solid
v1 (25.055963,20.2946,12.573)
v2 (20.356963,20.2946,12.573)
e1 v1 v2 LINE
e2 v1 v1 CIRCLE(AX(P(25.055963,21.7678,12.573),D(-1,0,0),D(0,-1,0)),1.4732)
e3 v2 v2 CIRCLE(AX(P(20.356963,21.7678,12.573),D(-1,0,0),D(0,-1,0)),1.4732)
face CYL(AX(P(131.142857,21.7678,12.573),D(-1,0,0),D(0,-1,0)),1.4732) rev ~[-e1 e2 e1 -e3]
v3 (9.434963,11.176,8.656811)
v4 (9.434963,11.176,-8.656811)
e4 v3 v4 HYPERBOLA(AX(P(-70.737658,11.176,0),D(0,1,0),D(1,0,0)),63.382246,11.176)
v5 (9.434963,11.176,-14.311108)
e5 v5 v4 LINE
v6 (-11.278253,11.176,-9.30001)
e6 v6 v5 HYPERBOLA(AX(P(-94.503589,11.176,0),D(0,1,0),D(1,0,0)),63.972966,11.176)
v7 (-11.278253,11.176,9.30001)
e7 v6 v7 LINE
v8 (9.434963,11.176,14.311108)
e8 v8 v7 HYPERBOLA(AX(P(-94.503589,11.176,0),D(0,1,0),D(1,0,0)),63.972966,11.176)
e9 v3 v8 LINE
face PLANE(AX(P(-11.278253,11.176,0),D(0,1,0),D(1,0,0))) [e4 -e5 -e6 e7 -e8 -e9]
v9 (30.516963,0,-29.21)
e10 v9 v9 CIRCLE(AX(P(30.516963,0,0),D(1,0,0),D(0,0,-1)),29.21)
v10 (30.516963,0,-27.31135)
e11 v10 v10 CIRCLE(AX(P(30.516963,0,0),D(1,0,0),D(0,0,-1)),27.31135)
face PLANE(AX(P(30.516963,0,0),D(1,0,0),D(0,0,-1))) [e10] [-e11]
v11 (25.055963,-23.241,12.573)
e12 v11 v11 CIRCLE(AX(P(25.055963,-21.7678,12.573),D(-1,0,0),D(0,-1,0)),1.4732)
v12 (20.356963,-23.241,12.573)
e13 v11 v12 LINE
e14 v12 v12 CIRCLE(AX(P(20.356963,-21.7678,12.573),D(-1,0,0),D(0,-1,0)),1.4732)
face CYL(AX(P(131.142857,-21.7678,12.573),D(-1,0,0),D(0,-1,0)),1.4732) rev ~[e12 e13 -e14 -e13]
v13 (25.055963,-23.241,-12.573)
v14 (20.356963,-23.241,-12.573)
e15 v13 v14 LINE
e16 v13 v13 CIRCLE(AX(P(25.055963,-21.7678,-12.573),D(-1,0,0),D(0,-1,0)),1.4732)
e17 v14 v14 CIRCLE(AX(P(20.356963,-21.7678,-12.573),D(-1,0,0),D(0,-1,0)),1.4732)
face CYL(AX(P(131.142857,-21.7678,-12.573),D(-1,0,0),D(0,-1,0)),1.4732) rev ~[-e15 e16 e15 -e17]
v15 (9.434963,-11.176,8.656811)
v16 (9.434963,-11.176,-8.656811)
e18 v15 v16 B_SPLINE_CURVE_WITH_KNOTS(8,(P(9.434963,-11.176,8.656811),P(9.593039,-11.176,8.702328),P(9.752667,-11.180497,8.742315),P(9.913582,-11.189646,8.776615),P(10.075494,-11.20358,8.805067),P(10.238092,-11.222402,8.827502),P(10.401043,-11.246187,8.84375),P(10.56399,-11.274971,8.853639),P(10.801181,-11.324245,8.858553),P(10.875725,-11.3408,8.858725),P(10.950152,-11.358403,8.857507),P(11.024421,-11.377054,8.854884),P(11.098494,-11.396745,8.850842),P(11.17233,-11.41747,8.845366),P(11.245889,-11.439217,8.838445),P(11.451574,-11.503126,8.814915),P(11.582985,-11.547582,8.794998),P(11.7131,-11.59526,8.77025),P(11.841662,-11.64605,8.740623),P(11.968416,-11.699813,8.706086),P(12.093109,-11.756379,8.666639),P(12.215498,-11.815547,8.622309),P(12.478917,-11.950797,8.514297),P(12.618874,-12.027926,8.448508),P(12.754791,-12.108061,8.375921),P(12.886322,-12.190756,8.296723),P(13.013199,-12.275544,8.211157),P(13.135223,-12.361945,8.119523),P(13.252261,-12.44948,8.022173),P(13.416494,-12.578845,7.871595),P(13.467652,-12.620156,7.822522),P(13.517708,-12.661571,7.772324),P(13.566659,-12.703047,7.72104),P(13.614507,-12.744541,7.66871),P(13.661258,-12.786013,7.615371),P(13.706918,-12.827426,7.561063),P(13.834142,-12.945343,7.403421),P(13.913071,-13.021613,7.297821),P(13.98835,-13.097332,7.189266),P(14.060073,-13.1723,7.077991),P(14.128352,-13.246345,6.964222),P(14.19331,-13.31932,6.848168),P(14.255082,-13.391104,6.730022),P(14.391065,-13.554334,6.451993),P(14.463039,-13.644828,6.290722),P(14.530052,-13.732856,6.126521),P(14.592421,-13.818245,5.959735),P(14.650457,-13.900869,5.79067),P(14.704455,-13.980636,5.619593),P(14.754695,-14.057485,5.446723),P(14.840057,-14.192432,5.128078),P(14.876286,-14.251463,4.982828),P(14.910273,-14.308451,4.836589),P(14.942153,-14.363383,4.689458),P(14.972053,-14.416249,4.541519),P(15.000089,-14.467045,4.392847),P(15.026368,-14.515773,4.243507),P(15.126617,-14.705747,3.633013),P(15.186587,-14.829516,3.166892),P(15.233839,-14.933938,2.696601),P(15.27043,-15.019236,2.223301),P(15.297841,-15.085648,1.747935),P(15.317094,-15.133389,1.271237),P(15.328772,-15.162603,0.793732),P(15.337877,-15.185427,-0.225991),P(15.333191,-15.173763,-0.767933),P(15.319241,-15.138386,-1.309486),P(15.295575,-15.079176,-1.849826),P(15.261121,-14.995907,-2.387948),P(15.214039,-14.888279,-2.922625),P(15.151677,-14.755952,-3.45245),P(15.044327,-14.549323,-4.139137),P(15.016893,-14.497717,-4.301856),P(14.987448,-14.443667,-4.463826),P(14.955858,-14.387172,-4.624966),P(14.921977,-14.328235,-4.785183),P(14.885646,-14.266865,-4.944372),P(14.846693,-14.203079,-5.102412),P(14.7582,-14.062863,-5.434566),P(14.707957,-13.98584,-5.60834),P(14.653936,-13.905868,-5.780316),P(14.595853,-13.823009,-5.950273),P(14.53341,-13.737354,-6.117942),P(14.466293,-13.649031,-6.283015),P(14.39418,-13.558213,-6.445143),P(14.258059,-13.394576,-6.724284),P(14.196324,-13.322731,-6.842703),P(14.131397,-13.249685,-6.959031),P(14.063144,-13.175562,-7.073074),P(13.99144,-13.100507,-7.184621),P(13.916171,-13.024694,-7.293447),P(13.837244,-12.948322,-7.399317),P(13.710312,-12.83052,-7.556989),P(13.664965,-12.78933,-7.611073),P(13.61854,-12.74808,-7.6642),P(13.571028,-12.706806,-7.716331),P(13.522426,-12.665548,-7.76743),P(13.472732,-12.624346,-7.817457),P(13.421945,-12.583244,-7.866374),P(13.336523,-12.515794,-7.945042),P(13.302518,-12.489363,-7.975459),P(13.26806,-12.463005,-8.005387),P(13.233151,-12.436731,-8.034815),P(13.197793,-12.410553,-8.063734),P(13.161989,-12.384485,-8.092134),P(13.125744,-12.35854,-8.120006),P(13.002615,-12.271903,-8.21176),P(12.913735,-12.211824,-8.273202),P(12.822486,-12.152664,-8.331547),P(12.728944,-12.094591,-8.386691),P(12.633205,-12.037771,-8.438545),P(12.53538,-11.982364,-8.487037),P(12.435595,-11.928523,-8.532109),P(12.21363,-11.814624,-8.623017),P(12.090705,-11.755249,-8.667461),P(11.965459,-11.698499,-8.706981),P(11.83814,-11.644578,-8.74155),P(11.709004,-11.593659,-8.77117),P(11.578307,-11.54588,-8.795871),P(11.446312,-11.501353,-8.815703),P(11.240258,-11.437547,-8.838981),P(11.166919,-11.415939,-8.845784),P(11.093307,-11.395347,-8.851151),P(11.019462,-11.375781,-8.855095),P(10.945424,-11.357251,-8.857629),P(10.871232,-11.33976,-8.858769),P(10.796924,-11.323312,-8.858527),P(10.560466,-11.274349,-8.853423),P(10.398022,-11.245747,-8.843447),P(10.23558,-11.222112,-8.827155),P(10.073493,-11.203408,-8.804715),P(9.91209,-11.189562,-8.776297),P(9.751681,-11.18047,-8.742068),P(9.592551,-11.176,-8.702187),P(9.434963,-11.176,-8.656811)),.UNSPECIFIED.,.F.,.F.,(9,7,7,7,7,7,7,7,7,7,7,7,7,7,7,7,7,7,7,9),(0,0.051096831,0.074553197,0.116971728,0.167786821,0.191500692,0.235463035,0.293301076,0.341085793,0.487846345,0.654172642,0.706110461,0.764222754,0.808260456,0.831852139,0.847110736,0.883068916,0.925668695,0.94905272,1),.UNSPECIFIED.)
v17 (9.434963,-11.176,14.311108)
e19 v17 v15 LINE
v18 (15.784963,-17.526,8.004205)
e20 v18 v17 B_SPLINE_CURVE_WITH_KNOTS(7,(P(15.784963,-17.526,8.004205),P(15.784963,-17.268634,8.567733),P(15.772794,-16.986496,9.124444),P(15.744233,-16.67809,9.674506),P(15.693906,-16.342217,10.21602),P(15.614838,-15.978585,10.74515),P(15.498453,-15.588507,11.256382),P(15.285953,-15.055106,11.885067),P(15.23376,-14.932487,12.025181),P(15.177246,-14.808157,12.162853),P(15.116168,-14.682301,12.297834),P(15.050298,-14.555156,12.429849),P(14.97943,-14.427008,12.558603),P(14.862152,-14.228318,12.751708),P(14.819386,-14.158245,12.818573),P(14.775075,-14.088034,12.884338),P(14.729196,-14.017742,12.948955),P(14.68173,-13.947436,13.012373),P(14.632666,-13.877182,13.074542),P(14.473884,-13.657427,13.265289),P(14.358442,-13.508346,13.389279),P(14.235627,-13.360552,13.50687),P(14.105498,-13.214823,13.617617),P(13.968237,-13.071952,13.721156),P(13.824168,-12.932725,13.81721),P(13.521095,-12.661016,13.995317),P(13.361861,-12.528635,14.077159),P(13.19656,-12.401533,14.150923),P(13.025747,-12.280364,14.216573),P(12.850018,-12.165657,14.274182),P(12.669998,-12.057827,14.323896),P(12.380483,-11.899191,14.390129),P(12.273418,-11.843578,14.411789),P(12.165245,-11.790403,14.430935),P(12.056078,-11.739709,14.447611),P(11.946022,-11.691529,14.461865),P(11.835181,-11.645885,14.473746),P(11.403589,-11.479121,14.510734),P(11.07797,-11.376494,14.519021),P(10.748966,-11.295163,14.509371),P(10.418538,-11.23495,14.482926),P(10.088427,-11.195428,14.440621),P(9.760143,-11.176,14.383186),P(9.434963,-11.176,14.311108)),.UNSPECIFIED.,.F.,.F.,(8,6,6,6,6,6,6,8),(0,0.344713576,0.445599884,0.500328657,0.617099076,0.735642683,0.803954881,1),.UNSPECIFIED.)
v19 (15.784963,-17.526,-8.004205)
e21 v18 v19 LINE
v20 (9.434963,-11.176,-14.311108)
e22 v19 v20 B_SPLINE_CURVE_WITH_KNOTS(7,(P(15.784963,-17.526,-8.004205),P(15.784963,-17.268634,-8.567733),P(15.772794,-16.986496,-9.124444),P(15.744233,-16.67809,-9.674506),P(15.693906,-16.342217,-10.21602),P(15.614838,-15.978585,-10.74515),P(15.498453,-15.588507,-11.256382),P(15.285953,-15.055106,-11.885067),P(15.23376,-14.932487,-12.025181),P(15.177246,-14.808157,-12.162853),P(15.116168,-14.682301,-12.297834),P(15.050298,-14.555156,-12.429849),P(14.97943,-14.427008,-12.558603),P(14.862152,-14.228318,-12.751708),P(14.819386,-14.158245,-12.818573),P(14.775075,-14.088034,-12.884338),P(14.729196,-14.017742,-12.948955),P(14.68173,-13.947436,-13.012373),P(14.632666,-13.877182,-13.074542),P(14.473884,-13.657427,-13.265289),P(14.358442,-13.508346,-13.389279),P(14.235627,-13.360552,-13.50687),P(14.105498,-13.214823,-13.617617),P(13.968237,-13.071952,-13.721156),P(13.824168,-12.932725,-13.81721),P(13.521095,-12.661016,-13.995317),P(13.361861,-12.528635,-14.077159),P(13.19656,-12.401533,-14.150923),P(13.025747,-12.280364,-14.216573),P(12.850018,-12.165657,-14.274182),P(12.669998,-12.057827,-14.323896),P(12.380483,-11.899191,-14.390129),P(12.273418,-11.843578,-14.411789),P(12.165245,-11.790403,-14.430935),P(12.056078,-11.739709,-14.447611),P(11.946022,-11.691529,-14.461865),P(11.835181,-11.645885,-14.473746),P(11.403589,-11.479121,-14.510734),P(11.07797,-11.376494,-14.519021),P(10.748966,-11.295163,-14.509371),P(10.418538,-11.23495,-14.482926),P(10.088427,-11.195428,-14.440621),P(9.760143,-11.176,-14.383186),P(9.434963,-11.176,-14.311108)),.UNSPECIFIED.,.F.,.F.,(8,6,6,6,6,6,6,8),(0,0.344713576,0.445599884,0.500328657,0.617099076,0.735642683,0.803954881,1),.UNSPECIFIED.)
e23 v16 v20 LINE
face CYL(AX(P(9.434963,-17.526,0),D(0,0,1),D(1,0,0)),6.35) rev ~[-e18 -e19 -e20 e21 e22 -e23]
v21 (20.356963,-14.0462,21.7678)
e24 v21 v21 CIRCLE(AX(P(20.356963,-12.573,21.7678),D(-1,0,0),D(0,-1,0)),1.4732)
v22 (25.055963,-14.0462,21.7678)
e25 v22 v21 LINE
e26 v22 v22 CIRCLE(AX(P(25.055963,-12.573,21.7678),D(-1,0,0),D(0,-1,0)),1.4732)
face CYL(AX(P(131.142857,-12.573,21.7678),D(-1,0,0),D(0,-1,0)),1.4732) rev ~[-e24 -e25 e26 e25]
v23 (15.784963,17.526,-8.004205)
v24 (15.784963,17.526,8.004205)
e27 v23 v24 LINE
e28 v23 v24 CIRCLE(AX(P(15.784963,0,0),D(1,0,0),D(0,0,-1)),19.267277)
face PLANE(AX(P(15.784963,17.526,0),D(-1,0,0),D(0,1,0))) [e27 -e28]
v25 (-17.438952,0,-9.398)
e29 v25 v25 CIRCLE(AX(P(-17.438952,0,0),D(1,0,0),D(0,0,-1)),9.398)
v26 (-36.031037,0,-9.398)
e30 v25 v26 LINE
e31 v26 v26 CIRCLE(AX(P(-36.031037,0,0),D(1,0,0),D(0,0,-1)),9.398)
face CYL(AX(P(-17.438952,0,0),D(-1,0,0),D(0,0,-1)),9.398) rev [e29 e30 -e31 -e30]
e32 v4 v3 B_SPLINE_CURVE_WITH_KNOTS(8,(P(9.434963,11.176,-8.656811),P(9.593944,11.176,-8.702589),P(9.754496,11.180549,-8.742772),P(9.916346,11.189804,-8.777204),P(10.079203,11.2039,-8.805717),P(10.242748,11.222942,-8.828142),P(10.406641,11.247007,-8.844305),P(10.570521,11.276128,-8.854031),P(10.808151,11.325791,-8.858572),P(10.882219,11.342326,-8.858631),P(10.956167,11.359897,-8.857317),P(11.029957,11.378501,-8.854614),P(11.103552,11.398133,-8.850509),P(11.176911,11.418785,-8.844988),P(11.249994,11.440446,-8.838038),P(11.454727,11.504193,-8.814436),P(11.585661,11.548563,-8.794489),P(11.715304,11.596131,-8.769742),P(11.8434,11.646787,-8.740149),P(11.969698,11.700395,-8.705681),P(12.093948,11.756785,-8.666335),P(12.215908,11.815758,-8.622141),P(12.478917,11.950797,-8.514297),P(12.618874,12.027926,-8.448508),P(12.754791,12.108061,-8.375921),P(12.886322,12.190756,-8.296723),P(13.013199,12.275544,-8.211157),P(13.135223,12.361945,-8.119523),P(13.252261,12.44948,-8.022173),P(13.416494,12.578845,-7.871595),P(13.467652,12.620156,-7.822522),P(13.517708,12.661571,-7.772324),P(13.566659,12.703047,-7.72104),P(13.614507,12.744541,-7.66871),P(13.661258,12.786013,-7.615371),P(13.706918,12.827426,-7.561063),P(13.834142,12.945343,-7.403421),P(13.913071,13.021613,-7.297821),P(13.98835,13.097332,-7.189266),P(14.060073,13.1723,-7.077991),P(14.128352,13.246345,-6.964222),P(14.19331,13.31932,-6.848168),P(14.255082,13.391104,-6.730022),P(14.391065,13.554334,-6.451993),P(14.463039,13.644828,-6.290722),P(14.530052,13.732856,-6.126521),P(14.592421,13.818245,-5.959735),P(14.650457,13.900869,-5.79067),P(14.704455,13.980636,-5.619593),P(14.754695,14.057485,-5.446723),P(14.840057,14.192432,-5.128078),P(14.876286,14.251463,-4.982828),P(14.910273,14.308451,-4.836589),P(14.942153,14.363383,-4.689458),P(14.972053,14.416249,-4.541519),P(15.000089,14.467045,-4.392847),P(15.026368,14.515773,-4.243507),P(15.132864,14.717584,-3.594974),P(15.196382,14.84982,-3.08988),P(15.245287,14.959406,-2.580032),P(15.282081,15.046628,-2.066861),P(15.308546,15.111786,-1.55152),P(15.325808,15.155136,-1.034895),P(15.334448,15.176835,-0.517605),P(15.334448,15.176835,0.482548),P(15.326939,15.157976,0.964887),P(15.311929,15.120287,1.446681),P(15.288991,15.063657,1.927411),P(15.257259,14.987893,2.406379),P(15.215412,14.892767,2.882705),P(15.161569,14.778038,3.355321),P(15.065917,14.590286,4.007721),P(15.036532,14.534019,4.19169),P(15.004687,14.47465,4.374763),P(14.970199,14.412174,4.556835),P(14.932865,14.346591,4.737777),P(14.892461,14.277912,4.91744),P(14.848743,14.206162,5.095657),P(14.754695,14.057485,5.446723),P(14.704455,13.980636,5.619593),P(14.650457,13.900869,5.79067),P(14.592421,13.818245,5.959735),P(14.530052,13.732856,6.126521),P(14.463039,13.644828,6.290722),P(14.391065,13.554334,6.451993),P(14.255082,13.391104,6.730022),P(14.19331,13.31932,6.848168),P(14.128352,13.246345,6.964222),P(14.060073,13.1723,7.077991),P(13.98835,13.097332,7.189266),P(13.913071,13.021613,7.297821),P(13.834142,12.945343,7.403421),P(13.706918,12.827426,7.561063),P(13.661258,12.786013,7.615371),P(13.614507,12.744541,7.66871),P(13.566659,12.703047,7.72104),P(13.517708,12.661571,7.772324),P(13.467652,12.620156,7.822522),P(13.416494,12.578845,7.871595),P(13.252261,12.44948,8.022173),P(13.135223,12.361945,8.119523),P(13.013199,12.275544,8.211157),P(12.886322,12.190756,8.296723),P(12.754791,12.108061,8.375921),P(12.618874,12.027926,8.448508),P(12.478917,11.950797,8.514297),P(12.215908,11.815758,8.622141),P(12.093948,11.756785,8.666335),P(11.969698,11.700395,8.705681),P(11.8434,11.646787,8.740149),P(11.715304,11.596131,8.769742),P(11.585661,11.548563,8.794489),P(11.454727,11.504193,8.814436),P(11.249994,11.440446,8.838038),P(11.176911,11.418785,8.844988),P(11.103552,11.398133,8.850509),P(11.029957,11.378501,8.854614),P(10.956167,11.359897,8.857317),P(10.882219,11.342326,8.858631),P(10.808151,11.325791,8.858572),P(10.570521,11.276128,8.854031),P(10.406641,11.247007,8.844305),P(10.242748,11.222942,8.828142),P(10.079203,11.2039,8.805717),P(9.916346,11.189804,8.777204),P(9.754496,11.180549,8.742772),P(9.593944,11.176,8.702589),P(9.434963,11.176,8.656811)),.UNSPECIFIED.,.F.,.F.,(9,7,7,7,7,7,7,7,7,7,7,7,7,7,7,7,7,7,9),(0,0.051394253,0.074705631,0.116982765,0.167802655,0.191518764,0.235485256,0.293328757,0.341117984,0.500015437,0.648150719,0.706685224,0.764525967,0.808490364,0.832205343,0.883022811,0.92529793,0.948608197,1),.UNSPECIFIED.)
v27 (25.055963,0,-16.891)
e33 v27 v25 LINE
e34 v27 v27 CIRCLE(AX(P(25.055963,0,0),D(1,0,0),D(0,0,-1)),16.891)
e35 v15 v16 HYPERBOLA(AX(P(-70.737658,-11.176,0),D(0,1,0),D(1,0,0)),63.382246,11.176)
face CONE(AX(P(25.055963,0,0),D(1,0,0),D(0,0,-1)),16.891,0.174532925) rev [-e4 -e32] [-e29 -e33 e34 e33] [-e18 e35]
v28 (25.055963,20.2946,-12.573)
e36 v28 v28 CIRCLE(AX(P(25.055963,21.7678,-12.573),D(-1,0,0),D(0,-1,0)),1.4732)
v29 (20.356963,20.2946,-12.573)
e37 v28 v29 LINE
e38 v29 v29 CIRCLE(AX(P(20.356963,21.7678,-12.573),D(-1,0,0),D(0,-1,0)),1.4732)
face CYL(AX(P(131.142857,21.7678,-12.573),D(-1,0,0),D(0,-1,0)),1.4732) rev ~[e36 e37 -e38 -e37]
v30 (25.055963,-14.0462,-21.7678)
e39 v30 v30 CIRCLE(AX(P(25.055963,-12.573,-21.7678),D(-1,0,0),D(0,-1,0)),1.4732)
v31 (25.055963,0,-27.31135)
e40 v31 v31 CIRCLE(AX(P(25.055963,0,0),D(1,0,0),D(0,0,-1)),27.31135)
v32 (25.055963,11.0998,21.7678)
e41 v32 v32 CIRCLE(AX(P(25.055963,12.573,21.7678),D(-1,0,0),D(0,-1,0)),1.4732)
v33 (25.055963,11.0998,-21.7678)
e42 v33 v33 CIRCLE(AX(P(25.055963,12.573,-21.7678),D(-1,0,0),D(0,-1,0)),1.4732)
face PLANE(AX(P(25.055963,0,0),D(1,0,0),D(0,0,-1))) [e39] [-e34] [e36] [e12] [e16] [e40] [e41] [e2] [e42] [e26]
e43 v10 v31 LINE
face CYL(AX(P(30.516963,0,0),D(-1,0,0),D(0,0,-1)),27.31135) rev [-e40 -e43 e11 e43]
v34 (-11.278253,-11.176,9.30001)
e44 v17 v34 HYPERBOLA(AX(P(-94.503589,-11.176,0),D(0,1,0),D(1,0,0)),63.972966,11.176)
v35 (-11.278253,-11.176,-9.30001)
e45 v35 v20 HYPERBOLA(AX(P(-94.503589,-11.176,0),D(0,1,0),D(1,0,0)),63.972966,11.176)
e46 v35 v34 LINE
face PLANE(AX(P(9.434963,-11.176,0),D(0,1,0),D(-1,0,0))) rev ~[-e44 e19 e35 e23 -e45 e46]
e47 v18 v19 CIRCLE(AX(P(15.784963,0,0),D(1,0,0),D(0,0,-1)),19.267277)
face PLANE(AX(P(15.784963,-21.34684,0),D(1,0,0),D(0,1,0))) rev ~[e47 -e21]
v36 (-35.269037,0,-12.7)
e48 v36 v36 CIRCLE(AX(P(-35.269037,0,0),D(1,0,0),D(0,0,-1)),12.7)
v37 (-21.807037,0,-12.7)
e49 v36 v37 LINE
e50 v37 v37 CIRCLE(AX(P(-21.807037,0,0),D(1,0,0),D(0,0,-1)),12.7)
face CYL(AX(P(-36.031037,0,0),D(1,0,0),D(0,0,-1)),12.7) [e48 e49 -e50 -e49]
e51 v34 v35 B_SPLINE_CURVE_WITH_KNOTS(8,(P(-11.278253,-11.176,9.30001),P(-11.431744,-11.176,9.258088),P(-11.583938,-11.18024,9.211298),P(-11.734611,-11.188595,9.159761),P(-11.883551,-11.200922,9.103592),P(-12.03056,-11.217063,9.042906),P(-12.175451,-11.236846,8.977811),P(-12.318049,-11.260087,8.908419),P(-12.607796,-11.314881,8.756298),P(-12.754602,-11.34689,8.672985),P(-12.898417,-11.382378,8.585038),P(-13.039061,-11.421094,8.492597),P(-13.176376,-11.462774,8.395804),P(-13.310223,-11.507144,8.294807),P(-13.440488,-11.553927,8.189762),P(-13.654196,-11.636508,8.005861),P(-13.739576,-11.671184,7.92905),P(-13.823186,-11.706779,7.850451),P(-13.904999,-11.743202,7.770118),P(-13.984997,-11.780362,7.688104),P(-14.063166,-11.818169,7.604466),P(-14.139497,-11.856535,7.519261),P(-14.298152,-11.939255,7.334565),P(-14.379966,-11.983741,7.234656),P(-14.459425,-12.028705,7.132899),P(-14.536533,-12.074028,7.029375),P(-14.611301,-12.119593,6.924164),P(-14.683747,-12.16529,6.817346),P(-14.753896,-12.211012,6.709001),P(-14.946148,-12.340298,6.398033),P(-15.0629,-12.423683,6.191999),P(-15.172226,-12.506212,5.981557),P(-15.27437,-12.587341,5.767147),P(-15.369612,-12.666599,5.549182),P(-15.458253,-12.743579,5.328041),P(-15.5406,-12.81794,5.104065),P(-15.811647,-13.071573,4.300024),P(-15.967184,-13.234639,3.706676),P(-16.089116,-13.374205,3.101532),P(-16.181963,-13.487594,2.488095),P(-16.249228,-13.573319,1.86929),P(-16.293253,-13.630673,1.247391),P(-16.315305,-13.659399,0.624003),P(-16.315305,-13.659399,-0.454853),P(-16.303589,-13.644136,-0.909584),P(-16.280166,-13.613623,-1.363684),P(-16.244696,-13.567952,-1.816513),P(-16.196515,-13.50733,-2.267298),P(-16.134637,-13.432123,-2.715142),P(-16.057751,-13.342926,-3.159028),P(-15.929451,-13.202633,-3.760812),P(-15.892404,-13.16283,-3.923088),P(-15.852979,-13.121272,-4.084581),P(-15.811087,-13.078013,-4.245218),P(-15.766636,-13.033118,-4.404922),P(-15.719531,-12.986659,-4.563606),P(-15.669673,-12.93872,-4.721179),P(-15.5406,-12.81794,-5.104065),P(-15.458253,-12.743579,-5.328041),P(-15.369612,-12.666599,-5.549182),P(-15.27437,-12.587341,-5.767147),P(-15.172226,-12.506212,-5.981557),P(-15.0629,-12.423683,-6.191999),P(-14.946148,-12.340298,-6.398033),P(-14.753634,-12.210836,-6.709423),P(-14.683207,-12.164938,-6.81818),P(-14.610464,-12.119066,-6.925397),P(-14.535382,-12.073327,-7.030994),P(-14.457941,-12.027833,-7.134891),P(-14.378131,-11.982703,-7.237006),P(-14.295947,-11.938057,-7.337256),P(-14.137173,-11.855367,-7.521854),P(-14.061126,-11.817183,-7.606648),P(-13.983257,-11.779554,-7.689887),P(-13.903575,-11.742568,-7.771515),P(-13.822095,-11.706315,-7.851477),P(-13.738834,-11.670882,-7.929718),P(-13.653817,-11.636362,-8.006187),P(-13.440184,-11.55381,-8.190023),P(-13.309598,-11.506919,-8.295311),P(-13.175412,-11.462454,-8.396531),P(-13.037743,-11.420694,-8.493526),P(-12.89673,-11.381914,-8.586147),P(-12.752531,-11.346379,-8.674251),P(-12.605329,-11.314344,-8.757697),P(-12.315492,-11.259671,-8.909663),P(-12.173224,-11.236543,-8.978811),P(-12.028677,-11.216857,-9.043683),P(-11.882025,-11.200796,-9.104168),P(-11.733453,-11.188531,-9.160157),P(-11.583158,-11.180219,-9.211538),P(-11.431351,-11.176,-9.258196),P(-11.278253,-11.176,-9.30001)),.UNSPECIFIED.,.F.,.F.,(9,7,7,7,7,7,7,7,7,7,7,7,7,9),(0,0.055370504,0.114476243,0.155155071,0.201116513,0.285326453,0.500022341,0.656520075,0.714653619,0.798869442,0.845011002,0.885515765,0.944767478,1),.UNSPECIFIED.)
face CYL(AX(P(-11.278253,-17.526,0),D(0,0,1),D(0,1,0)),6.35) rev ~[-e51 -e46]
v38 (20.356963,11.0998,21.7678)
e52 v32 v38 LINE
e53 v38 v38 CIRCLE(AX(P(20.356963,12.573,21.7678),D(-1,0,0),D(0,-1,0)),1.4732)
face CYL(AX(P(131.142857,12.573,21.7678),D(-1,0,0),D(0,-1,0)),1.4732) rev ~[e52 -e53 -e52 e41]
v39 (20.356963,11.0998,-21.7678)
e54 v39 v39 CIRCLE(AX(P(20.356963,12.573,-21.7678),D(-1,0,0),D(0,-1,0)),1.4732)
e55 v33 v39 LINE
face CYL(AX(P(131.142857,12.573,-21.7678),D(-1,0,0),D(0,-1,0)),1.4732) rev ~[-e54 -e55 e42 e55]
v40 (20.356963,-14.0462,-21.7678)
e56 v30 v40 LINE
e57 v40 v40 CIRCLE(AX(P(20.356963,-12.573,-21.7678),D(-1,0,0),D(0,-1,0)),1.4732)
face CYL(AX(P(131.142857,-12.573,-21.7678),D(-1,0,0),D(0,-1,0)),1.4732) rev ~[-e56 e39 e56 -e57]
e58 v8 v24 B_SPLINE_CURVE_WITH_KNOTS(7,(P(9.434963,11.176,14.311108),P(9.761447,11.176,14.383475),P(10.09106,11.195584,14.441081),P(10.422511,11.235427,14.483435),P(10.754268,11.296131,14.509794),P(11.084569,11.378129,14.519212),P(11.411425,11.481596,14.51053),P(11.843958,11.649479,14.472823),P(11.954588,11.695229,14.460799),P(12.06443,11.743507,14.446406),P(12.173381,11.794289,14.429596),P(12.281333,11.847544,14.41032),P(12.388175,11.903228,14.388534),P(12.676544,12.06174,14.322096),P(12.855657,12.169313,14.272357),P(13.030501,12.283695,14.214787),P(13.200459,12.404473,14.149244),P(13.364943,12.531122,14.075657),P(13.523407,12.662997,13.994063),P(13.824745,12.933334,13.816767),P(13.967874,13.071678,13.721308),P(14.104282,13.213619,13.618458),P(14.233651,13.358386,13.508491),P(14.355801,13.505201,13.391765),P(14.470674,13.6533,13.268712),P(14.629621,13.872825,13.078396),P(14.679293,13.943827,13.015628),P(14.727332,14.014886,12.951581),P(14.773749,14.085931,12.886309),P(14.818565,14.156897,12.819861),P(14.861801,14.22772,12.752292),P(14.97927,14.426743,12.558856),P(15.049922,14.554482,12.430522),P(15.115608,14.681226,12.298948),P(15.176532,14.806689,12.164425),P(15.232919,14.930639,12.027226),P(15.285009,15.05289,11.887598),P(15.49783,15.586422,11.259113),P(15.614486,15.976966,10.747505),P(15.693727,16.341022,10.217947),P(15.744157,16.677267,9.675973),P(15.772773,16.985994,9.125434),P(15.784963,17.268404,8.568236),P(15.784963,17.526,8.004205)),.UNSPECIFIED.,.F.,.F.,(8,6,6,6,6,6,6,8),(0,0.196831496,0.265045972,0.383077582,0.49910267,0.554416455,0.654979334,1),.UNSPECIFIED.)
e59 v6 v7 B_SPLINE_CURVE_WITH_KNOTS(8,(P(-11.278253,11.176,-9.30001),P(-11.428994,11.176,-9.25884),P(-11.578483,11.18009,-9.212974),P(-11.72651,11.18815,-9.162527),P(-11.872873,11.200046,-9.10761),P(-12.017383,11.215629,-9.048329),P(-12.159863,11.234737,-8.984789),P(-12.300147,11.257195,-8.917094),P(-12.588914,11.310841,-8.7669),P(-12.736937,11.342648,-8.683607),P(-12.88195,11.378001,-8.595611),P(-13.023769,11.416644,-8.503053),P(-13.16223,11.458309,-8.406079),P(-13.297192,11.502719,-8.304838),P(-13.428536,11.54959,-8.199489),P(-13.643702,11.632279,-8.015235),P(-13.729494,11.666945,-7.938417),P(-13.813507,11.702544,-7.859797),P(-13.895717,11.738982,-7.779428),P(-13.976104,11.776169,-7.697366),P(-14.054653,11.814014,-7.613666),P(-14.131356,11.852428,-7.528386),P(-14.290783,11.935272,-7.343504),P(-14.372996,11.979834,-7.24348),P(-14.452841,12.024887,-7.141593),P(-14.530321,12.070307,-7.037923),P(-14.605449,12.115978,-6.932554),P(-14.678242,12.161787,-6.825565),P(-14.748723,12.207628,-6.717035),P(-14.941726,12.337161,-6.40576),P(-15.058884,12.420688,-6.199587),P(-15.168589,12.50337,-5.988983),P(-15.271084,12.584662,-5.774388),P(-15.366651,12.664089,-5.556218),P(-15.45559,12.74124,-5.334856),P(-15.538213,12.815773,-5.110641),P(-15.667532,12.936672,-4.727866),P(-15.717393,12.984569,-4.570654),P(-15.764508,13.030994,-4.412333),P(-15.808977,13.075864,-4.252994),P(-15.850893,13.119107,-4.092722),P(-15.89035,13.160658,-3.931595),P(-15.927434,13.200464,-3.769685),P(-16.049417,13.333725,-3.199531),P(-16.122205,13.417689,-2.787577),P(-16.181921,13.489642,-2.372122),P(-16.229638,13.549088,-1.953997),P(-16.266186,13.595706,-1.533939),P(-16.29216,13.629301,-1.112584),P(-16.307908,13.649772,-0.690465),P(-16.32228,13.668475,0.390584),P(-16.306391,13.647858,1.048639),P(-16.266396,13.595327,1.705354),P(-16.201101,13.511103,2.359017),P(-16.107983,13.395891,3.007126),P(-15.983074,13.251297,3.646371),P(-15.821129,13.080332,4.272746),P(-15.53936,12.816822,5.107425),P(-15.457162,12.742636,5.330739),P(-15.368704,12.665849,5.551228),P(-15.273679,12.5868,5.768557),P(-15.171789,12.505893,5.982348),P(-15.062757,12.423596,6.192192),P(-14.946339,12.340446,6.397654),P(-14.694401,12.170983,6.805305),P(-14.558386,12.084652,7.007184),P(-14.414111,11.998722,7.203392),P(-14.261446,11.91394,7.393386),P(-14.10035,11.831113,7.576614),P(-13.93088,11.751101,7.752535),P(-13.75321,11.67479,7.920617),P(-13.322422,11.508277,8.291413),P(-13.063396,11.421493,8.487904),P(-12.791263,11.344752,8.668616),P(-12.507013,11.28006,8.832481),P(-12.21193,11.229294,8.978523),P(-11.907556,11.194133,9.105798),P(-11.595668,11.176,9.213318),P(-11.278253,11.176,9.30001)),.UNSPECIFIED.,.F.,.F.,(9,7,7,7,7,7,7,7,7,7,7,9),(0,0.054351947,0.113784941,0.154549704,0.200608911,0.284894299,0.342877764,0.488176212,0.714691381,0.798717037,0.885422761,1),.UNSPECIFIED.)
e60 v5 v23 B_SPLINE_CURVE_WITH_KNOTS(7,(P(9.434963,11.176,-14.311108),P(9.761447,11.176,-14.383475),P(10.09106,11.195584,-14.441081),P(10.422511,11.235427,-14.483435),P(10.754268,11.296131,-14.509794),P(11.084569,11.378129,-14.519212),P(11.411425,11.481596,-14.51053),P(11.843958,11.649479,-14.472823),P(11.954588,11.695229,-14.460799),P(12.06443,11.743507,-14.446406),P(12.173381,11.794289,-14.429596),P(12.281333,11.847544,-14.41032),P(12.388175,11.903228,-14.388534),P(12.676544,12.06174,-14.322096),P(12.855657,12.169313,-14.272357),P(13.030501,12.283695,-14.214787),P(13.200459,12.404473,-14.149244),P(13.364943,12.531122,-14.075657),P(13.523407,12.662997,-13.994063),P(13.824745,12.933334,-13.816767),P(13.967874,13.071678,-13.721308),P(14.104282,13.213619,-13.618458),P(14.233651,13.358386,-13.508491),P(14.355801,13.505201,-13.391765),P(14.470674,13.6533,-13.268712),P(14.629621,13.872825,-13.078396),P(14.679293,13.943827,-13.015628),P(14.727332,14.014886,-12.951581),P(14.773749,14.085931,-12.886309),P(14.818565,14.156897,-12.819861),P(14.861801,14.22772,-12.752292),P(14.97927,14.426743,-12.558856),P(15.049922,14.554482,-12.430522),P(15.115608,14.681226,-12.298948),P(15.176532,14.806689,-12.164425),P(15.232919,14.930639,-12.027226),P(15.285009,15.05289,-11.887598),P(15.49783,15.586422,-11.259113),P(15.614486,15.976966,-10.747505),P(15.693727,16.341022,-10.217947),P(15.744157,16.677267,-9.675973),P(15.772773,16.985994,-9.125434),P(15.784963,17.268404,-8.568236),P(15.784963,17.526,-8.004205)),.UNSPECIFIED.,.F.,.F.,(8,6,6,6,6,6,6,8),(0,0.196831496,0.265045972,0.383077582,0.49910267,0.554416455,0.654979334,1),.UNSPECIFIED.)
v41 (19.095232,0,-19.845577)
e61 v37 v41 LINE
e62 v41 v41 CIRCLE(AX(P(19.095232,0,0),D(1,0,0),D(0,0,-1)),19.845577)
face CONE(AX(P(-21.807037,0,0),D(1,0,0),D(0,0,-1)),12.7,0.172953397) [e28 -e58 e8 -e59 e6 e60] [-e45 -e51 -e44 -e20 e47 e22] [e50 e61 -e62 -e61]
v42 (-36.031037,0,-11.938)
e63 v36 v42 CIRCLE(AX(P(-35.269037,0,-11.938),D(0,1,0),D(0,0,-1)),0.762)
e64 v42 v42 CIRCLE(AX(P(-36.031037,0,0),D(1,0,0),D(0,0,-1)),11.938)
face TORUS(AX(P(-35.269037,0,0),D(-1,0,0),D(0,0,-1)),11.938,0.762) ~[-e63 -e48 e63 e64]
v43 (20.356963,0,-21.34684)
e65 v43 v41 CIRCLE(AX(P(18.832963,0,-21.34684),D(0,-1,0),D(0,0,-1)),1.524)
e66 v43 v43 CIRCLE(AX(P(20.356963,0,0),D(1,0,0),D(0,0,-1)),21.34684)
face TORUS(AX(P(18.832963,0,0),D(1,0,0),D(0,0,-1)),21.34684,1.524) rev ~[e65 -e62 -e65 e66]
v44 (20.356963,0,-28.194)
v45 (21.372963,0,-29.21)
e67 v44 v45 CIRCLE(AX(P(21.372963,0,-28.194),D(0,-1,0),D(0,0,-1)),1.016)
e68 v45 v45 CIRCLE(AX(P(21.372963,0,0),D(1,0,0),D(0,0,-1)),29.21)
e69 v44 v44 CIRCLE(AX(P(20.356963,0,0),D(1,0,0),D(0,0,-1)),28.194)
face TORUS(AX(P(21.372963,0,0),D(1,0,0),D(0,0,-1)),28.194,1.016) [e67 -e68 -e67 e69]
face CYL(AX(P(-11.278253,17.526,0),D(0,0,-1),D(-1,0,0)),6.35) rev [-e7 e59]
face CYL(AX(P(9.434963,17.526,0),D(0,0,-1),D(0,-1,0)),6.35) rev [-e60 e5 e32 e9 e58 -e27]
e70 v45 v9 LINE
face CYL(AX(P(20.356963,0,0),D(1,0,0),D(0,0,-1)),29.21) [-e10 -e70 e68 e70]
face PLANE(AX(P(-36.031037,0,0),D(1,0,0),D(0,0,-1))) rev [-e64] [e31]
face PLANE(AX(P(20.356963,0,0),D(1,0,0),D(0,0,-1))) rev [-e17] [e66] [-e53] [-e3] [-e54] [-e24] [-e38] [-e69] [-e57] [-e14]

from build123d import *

# Parameters (mm, degrees)
F2_R     = 1.016
F3_R     = 1.524
F4_R     = 0.762
F6_DEPTH = 25.4
F8_D     = 2.9464


with BuildPart() as f1:
    # F0 (on Front) → F1 (revolve)
    with BuildSketch(Plane.XZ):
        Polygon((-17.4389516755, -9.398), (-36.0310370011, -9.398), (-36.0310370011, -12.7), (-21.8070370011, -12.7), (20.3569629989, -20.066), (20.3569629989, -29.21), (30.5169629989, -29.21), (30.5169629989, -27.31135), (25.0559629989, -27.31135), (25.0559629989, -16.891), align=None)
    revolve(axis=Axis((-0.3203684359, 0, 0), (1, 0, 0)))

    # F2
    f2_edges = [f1.edges().sort_by_distance(p)[0] for p in [
        (20.356963, 0, 29.21),
    ]]
    fillet(f2_edges, radius=F2_R)

    # F3
    f3_edges = [f1.edges().sort_by_distance(p)[0] for p in [
        (20.356963, 0, 20.066),
    ]]
    fillet(f3_edges, radius=F3_R)

    # F4
    f4_edges = [f1.edges().sort_by_distance(p)[0] for p in [
        (-36.031037, 0, 12.7),
    ]]
    fillet(f4_edges, radius=F4_R)

    # F5 (on Top) → F6 (cut, symmetric)
    with BuildSketch(Plane.XY):
        with BuildLine():
            ThreePointArc((-17.6282525063, 17.526), (-15.7683805668, 13.0358719395), (-11.2782525063, 11.176))
            Line((-11.2782525063, 11.176), (9.4349629989, 11.176))
            ThreePointArc((9.4349629989, 11.176), (13.9250910594, 13.0358719395), (15.7849629989, 17.526))
            Line((15.7849629989, 17.526), (15.7849629989, 21.3468402398))
            Line((15.7849629989, 21.3468402398), (-17.6282525063, 21.2479885668))
            Line((-17.6282525063, 21.2479885668), (-17.6282525063, 17.526))
        make_face()
        with BuildLine():
            Line((9.4349629989, -11.176), (-11.2782525063, -11.176))
            ThreePointArc((-11.2782525063, -11.176), (-15.7683805668, -13.0358719395), (-17.6282525063, -17.526))
            Line((-17.6282525063, -17.526), (-17.6282525063, -20.1750025153))
            Line((-17.6282525063, -20.1750025153), (15.7849629989, -21.3468402398))
            Line((15.7849629989, -21.3468402398), (15.7849629989, -17.526))
            ThreePointArc((15.7849629989, -17.526), (13.9250910594, -13.0358719395), (9.4349629989, -11.176))
        make_face()
    extrude(amount=F6_DEPTH, both=True, mode=Mode.SUBTRACT)

    # F8 (through all)
    with Locations(Plane.YZ.offset(25.0559629989)):
        with Locations((12.573, 21.7678), (21.7678, 12.573), (21.7678, -12.573), (12.573, -21.7678), (-12.573, -21.7678), (-21.7678, -12.573), (-21.7678, 12.573), (-12.573, 21.7678)):
            Hole(F8_D / 2)


solid = f1.part
